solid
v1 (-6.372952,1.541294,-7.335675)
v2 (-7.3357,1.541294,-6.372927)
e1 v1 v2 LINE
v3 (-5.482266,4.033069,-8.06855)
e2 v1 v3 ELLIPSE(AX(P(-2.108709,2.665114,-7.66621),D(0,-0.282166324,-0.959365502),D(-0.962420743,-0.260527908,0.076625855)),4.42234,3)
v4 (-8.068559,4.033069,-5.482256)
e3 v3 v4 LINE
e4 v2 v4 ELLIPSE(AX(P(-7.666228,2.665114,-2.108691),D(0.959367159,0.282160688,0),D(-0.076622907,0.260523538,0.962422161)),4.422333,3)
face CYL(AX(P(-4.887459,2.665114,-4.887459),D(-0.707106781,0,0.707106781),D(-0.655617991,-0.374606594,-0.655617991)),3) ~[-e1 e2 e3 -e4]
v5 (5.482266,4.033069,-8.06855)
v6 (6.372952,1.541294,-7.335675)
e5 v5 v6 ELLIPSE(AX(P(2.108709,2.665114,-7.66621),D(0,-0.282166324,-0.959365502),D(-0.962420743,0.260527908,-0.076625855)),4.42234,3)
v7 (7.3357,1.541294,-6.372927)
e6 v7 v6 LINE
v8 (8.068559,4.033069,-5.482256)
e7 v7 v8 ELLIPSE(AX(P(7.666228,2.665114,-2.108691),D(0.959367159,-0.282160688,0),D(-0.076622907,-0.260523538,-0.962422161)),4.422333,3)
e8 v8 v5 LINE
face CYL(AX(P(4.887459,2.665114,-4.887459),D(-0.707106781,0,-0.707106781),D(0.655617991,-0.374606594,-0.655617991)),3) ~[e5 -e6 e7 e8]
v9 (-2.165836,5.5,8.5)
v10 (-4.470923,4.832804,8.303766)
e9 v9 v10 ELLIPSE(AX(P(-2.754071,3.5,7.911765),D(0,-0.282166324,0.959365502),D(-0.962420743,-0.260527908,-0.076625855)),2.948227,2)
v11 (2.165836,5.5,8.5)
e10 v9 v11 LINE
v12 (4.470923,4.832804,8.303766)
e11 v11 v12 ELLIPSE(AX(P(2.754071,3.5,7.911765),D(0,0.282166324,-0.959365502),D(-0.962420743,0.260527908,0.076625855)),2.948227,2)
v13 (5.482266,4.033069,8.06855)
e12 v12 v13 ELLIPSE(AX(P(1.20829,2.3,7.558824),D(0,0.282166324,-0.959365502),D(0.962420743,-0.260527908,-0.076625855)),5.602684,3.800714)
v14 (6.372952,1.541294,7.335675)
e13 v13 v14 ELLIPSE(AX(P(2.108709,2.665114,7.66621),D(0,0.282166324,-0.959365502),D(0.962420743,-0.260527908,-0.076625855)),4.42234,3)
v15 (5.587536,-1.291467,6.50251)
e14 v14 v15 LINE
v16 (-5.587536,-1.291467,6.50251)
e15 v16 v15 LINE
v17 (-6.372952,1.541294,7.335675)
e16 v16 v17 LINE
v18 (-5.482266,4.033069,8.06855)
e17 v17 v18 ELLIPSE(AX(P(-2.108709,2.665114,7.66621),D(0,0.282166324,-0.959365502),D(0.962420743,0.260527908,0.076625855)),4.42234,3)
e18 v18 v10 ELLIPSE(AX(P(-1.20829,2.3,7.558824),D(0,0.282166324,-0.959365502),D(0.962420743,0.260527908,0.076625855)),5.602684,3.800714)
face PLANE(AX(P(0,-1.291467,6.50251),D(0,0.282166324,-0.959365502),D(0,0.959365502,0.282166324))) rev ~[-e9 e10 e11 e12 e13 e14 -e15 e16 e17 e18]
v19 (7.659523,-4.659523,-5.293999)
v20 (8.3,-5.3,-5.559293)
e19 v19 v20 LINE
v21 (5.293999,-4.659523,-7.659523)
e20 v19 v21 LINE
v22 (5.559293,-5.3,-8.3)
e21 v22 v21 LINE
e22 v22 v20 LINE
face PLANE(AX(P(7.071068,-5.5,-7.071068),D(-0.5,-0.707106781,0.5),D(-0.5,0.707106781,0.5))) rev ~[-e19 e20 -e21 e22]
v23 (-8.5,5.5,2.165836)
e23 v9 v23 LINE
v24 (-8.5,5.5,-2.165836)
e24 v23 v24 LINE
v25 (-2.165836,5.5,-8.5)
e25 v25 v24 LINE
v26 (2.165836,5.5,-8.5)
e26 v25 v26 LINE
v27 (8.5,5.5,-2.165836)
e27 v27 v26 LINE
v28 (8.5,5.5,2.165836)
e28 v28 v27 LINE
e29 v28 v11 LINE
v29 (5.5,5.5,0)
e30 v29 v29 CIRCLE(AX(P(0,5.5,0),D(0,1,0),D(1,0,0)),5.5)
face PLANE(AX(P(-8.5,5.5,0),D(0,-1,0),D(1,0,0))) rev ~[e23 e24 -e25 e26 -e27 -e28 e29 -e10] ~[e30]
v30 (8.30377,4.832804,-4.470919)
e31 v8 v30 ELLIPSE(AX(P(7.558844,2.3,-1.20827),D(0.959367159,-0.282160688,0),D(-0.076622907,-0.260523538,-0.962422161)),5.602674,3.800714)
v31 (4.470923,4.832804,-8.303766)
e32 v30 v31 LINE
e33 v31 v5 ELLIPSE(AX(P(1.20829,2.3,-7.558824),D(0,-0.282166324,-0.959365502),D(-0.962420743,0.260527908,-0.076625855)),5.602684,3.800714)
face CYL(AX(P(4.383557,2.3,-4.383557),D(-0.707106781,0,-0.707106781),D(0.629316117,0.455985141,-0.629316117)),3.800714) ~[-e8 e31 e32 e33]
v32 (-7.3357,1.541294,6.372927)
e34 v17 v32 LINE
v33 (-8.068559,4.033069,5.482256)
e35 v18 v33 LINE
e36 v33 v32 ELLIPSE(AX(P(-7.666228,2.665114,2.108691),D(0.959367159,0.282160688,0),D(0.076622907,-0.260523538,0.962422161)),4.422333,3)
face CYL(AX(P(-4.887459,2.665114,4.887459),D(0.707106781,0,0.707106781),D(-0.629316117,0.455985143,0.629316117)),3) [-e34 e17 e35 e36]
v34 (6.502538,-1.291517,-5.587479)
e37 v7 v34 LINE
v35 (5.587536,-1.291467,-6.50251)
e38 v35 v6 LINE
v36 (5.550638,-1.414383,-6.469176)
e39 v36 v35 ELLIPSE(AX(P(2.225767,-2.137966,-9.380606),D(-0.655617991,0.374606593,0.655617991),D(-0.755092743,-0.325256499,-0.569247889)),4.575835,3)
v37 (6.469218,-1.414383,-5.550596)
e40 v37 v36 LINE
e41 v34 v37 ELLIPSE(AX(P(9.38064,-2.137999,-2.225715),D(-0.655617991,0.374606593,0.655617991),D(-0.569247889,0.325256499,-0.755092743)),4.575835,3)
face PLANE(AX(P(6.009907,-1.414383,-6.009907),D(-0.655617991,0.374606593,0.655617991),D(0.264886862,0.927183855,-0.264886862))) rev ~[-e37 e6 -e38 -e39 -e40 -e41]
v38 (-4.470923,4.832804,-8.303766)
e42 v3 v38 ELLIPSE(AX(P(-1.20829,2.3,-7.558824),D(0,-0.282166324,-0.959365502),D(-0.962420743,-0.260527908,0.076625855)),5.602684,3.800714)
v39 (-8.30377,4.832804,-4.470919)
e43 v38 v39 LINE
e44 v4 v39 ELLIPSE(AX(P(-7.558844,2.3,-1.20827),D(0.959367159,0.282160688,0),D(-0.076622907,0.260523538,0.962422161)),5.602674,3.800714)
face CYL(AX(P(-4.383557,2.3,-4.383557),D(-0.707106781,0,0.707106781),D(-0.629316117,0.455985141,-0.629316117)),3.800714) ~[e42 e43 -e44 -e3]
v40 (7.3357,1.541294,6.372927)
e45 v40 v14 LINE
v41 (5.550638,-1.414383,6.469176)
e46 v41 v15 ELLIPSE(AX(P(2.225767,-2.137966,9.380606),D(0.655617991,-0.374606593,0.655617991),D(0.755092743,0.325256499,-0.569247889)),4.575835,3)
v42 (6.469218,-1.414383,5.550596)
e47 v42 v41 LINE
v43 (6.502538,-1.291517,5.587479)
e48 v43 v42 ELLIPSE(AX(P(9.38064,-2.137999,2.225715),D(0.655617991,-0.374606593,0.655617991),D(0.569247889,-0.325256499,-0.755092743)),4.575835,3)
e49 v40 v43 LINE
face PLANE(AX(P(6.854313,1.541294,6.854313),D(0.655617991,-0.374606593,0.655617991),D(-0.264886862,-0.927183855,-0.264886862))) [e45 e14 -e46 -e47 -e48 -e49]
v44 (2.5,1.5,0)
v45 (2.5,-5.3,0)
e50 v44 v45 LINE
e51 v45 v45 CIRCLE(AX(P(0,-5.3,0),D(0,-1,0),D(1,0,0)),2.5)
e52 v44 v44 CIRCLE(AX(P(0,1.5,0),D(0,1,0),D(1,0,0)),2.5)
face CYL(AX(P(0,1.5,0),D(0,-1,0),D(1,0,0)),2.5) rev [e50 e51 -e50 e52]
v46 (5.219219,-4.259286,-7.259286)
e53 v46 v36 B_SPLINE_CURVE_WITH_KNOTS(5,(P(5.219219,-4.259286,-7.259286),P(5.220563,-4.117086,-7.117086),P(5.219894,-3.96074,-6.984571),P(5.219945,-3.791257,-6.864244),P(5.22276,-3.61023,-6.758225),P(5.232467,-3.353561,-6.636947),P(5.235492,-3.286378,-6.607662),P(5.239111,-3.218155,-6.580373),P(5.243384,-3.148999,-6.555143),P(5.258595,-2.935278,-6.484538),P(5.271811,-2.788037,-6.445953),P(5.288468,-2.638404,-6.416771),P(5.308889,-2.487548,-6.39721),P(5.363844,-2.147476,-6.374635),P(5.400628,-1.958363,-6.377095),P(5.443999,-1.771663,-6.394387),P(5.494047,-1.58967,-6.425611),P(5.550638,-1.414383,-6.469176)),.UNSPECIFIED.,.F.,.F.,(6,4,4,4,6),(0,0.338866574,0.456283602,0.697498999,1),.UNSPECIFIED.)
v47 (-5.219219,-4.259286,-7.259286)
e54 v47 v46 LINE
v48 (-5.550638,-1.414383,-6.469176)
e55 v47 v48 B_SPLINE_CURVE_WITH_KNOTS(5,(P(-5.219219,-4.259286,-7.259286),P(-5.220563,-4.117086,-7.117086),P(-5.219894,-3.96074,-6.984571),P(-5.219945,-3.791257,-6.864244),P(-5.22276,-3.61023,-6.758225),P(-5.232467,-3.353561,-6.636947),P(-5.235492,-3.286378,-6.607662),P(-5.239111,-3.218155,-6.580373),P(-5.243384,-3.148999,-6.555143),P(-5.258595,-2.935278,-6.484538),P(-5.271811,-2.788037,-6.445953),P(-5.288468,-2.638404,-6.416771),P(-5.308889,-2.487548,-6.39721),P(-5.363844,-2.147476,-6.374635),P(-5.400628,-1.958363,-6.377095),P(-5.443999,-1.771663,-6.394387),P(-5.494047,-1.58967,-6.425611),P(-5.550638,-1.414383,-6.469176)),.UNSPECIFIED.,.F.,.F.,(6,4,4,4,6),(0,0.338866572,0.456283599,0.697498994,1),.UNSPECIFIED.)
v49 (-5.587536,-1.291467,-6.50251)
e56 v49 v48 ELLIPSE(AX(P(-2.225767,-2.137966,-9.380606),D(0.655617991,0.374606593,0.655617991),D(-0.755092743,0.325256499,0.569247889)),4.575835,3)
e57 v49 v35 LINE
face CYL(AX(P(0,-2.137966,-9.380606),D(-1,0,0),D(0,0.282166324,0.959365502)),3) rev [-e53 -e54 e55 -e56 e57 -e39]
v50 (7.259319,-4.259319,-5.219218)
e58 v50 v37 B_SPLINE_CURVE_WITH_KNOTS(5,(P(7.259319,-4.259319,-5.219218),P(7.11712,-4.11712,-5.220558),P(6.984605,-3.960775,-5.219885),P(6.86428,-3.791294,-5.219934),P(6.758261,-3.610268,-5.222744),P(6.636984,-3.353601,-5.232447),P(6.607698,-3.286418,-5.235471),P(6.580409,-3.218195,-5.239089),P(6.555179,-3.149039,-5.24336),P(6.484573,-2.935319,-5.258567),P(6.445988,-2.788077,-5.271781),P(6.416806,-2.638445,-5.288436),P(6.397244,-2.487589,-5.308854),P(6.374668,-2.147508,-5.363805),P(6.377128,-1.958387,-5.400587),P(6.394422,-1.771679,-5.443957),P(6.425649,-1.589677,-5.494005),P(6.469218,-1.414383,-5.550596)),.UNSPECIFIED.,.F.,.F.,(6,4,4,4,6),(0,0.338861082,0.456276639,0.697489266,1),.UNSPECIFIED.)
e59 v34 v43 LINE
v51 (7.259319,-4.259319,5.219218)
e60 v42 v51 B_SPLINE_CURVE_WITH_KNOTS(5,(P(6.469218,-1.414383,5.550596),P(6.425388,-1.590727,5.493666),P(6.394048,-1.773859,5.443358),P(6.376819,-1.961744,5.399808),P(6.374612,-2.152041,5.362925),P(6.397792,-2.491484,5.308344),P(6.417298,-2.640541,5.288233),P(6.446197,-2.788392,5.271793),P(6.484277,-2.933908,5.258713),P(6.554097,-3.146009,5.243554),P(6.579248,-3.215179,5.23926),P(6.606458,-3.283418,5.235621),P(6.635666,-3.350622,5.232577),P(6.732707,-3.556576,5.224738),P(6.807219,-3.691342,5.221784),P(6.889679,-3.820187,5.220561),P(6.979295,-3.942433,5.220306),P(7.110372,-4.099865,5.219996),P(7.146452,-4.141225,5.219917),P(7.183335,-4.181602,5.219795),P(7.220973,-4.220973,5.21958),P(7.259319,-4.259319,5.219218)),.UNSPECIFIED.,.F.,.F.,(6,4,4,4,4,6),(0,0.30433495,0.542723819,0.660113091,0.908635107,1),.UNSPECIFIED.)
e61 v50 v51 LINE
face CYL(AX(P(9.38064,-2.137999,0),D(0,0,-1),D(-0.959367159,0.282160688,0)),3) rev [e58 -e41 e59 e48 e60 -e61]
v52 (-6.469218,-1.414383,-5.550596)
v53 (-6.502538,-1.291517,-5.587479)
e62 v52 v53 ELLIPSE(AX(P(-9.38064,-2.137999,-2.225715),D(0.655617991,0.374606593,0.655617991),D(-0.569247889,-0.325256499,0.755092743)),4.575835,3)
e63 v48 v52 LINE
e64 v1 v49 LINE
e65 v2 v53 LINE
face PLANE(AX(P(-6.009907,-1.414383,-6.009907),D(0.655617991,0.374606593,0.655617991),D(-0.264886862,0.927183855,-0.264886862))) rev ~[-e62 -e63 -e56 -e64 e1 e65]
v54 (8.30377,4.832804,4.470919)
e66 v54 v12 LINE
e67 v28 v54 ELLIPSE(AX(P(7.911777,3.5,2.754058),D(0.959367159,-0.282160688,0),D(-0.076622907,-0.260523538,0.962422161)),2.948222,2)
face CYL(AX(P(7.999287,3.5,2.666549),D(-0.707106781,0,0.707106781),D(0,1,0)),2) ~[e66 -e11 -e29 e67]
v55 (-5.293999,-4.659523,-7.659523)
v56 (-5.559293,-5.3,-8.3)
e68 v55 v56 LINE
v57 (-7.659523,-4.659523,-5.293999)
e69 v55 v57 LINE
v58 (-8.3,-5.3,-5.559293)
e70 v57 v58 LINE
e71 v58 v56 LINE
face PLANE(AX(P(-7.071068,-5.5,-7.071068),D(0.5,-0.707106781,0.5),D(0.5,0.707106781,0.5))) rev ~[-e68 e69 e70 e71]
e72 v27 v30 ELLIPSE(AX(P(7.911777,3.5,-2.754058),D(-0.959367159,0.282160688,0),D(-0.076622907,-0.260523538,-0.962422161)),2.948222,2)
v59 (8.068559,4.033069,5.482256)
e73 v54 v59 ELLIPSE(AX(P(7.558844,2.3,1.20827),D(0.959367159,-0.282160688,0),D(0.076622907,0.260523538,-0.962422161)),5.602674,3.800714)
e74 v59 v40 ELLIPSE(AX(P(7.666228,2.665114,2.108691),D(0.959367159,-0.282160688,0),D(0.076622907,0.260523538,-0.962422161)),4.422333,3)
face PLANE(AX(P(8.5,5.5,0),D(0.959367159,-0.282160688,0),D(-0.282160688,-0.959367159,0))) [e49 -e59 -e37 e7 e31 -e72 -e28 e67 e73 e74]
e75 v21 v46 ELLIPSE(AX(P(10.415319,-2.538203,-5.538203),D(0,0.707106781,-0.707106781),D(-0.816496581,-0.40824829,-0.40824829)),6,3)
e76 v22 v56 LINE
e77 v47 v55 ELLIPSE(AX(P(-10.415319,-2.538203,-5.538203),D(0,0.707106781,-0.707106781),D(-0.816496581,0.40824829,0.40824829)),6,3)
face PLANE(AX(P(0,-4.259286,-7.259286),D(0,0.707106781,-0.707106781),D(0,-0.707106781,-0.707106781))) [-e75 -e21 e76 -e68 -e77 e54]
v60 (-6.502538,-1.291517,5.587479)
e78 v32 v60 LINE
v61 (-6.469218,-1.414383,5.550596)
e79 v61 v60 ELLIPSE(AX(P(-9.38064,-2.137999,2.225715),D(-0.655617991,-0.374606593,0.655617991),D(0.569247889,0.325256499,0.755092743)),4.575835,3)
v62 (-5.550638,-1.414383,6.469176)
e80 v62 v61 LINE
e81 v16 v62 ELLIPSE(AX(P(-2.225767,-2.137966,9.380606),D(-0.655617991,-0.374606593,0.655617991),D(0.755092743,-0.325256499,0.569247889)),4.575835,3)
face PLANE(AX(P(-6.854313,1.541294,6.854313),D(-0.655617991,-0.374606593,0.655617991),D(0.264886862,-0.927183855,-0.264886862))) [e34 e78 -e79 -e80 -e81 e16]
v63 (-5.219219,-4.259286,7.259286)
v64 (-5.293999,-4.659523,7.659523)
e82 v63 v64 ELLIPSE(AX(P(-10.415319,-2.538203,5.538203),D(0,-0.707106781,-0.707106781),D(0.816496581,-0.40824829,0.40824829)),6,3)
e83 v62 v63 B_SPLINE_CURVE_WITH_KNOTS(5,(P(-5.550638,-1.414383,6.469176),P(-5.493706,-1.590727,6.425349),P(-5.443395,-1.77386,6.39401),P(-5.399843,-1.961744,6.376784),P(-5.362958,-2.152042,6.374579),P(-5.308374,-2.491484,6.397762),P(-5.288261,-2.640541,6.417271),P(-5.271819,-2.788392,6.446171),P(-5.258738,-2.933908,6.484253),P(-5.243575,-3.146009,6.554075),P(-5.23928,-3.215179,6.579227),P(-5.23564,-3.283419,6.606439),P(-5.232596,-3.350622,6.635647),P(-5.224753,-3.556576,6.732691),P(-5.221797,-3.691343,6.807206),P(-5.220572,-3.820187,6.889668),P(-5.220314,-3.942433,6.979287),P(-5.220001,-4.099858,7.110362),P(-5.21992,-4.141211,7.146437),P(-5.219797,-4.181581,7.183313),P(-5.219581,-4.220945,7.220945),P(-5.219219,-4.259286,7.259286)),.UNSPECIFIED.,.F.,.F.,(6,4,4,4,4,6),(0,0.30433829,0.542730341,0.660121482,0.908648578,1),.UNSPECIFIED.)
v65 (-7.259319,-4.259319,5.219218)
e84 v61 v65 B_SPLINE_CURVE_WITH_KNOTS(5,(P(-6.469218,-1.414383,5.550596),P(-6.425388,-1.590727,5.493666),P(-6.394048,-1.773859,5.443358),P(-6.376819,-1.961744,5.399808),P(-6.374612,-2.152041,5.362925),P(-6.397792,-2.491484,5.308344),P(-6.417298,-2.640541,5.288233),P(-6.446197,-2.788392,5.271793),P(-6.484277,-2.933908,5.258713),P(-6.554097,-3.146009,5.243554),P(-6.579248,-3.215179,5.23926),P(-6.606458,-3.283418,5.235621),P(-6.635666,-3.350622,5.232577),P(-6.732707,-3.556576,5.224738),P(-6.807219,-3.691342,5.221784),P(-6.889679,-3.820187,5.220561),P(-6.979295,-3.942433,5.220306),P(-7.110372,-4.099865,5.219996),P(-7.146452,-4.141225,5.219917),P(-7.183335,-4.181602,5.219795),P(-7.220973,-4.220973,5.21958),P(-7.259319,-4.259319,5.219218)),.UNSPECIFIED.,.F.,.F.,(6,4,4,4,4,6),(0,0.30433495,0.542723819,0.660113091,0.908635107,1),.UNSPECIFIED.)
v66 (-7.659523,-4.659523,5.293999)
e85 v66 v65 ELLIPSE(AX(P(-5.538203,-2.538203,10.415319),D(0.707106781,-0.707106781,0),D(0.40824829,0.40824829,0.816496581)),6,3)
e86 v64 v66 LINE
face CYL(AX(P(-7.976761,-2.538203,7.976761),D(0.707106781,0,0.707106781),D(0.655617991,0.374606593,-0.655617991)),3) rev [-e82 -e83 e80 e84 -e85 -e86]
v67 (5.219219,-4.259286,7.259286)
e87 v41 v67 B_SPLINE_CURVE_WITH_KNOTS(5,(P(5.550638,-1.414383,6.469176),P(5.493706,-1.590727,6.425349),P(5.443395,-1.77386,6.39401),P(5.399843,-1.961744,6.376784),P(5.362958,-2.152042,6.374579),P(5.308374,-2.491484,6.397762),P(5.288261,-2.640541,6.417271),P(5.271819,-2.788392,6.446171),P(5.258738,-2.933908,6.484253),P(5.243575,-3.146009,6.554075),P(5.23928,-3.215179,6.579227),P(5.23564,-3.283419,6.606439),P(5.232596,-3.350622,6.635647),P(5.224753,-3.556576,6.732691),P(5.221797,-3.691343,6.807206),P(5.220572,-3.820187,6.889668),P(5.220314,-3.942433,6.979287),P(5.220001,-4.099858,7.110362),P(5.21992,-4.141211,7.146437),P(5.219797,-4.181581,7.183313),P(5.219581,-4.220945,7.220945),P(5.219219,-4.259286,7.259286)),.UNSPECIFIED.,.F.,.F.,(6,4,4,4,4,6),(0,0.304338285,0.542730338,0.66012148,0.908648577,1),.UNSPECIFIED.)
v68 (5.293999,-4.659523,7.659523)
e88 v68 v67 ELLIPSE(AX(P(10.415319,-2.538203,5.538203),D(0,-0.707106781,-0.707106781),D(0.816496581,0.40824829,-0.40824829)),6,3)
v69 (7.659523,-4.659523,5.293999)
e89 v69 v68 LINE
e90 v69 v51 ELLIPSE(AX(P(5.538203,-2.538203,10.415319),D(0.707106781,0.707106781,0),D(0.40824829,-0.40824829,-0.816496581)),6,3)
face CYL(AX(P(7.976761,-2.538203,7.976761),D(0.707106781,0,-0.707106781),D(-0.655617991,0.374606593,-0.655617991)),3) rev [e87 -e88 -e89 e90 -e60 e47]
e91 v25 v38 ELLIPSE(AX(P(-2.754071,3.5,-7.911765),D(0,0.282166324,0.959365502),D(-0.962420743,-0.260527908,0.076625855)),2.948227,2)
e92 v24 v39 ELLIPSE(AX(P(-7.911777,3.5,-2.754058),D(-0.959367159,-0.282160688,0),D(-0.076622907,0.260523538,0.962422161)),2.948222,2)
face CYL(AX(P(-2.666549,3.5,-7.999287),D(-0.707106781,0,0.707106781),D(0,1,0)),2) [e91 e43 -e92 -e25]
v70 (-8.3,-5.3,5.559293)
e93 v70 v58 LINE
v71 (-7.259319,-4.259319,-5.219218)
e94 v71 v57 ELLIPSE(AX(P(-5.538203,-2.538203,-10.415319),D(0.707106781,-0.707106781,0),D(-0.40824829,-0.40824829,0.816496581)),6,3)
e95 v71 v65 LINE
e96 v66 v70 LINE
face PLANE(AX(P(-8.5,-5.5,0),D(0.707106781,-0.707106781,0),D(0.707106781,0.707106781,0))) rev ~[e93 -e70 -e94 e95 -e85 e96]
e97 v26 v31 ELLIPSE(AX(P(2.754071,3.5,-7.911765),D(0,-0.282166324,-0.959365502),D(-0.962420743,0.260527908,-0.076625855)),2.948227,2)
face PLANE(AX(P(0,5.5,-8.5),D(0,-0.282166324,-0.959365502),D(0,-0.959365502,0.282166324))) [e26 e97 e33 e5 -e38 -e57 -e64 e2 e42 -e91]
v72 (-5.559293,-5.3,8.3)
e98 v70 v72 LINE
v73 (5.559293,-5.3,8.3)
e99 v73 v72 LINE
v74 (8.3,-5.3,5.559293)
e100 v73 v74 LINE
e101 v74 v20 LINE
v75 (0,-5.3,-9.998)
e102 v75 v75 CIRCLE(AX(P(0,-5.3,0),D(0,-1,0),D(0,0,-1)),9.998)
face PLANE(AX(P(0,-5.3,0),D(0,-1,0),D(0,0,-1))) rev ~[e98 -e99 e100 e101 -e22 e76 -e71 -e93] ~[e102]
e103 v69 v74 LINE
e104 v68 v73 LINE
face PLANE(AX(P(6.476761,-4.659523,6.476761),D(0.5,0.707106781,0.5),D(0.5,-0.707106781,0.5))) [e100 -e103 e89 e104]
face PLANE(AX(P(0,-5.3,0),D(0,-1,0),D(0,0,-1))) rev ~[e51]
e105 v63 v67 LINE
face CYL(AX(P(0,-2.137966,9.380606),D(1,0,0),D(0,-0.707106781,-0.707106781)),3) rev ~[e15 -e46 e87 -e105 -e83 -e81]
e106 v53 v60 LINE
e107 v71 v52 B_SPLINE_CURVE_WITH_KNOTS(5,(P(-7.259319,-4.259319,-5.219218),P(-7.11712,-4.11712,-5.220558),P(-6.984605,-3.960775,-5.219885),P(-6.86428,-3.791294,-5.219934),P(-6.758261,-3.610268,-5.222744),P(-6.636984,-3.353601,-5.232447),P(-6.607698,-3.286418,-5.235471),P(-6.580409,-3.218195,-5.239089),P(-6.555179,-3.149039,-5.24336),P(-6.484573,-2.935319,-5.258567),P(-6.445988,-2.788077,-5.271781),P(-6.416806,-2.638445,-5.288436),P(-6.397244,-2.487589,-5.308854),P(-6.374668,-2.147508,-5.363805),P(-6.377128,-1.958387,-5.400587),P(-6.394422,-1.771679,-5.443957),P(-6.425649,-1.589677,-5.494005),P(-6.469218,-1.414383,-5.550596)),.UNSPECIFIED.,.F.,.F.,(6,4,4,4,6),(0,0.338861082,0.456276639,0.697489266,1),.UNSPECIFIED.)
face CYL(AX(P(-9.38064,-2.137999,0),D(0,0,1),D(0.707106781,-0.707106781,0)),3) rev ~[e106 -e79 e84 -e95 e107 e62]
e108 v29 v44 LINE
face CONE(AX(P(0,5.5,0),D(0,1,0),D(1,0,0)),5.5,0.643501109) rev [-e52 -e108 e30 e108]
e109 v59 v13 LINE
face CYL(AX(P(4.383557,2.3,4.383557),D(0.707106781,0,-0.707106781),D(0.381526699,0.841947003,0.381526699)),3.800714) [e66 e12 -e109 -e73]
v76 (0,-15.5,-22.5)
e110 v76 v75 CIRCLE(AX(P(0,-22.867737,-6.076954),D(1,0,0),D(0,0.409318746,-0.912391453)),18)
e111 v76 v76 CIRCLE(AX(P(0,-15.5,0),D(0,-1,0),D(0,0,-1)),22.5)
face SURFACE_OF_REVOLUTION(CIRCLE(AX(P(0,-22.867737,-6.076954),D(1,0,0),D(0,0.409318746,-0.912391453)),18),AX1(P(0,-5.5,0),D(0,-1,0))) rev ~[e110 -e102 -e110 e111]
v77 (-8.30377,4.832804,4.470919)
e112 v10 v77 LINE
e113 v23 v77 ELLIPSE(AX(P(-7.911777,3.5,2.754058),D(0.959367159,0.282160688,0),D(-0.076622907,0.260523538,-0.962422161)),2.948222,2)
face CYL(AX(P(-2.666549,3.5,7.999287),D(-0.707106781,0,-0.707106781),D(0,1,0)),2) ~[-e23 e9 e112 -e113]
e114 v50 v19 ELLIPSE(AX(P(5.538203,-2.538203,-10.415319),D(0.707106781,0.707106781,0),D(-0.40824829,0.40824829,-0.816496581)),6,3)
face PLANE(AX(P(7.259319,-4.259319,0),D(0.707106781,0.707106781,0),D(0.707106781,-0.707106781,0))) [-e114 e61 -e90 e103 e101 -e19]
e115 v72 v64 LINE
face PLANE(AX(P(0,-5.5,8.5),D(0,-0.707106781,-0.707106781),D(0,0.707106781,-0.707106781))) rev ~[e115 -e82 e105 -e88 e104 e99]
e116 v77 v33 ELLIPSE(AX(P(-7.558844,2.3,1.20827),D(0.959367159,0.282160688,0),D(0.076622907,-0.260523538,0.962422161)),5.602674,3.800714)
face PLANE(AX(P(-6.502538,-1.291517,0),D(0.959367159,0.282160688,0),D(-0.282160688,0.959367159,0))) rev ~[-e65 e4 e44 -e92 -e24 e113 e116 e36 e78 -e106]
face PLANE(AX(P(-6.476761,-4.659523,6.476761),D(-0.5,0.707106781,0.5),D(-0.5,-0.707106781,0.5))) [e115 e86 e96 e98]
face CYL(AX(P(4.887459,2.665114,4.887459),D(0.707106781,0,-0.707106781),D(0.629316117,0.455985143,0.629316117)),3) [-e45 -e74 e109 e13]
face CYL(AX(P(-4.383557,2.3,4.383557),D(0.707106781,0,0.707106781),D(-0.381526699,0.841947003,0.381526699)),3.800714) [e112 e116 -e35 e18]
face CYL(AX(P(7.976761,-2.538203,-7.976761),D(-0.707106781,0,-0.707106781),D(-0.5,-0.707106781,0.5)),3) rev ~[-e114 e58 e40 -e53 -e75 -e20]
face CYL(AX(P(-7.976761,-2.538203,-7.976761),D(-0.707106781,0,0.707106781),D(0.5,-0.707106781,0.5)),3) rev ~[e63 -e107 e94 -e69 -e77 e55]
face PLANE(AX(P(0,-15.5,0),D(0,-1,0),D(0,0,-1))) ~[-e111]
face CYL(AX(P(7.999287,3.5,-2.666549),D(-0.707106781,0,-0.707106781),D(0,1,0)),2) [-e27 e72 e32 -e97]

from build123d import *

# Parameters (mm, degrees)
SKETCH4_W           = 17
SKETCH4_H           = 11
BOSS_EXTRUDE2_DEPTH = 8.5
CUT_EXTRUDE1_DEPTH  = 13.5
CUT_EXTRUDE2_DEPTH  = 13.5
CUT_EXTRUDE3_DEPTH  = 13.5
CUT_EXTRUDE4_DEPTH  = 13.5
FILLET1_R           = 2


with BuildPart() as part:
    # Sketch4 → Boss-Extrude2 (new body, symmetric)
    with BuildSketch(Plane.XY):
        Rectangle(SKETCH4_W, SKETCH4_H)
    extrude(amount=BOSS_EXTRUDE2_DEPTH, both=True)

    # Sketch5 → Cut-Extrude1 (cut, symmetric)
    with BuildSketch(Plane(origin=(0, 0, 0), x_dir=(0, 0, -1), z_dir=(1, 0, 0))):
        with BuildLine():
            Line((8.5, 5.5), (6.502509808, -1.291466653))
            ThreePointArc((6.502509808, -1.291466653), (6.473626767, -2.879228009), (7.259285969, -4.259285969))
            Line((7.259285969, -4.259285969), (8.5, -5.5))
            Line((8.5, -5.5), (8.5, 5.5))
        make_face()
        with BuildLine():
            Line((-8.5, -5.5), (-7.259285969, -4.259285969))
            ThreePointArc((-7.259285969, -4.259285969), (-6.473626767, -2.879228009), (-6.502509808, -1.291466653))
            Line((-6.502509808, -1.291466653), (-8.5, 5.5))
            Line((-8.5, 5.5), (-8.5, -5.5))
        make_face()
    extrude(amount=CUT_EXTRUDE1_DEPTH, both=True, mode=Mode.SUBTRACT)

    # Sketch7 → Cut-Extrude2 (cut, symmetric)
    with BuildSketch(Plane.XY):
        with BuildLine():
            Line((8.5, 5.5), (6.502538332, -1.291517059))
            ThreePointArc((6.502538332, -1.291517059), (6.473662442, -2.879270046), (7.259319467, -4.259319467))
            Line((7.259319467, -4.259319467), (8.5, -5.5))
            Line((8.5, -5.5), (8.5, 5.5))
        make_face()
        with BuildLine():
            Line((-8.5, -5.5), (-7.259319467, -4.259319467))
            ThreePointArc((-7.259319467, -4.259319467), (-6.473662442, -2.879270046), (-6.502538332, -1.291517059))
            Line((-6.502538332, -1.291517059), (-8.5, 5.5))
            Line((-8.5, 5.5), (-8.5, -5.5))
        make_face()
    extrude(amount=CUT_EXTRUDE2_DEPTH, both=True, mode=Mode.SUBTRACT)

    # Sketch11 → Cut-Extrude3 (cut, symmetric)
    with BuildSketch(Plane(origin=(0, 0, 0), x_dir=(0.707106781, 0, -0.707106781), z_dir=(0.707106781, 0, 0.707106781))):
        with BuildLine():
            Line((10, -5.5), (9.159523089, -4.659523089))
            ThreePointArc((9.159523089, -4.659523089), (8.341069319, -3.136306549), (8.499291869, -1.414382965))
            Line((8.499291869, -1.414382965), (9.693462893, 1.541294037))
            ThreePointArc((9.693462893, 1.541294037), (9.908907559, 2.799328578), (9.581873492, 4.033069244))
            ThreePointArc((9.581873492, 4.033069244), (9.013209006, 4.854851227), (8.25, 5.5))
            Line((8.25, 5.5), (14, 5.5))
            Line((14, 5.5), (14, -5.5))
            Line((14, -5.5), (10, -5.5))
        make_face()
        with BuildLine():
            Line((-14, 5.5), (-8.25, 5.5))
            ThreePointArc((-8.25, 5.5), (-9.013209006, 4.854851227), (-9.581873492, 4.033069244))
            ThreePointArc((-9.581873492, 4.033069244), (-9.908907559, 2.799328578), (-9.693462893, 1.541294037))
            Line((-9.693462893, 1.541294037), (-8.499291869, -1.414382965))
            ThreePointArc((-8.499291869, -1.414382965), (-8.341069319, -3.136306549), (-9.159523089, -4.659523089))
            Line((-9.159523089, -4.659523089), (-10, -5.5))
            Line((-10, -5.5), (-14, -5.5))
            Line((-14, -5.5), (-14, 5.5))
        make_face()
    extrude(amount=CUT_EXTRUDE3_DEPTH, both=True, mode=Mode.SUBTRACT)

    # Sketch12 → Cut-Extrude4 (cut, symmetric)
    with BuildSketch(Plane(origin=(0, 0, 0), x_dir=(-0.707106781, 0, -0.707106781), z_dir=(0.707106781, 0, -0.707106781))):
        with BuildLine():
            Line((10, -5.5), (9.159523089, -4.659523089))
            ThreePointArc((9.159523089, -4.659523089), (8.341069319, -3.136306549), (8.499291869, -1.414382965))
            Line((8.499291869, -1.414382965), (9.693462893, 1.541294037))
            ThreePointArc((9.693462893, 1.541294037), (9.908907559, 2.799328578), (9.581873492, 4.033069244))
            ThreePointArc((9.581873492, 4.033069244), (9.013209006, 4.854851227), (8.25, 5.5))
            Line((8.25, 5.5), (14, 5.5))
            Line((14, 5.5), (14, -5.5))
            Line((14, -5.5), (10, -5.5))
        make_face()
        with BuildLine():
            Line((-14, 5.5), (-8.25, 5.5))
            ThreePointArc((-8.25, 5.5), (-9.013209006, 4.854851227), (-9.581873492, 4.033069244))
            ThreePointArc((-9.581873492, 4.033069244), (-9.908907559, 2.799328578), (-9.693462893, 1.541294037))
            Line((-9.693462893, 1.541294037), (-8.499291869, -1.414382965))
            ThreePointArc((-8.499291869, -1.414382965), (-8.341069319, -3.136306549), (-9.159523089, -4.659523089))
            Line((-9.159523089, -4.659523089), (-10, -5.5))
            Line((-10, -5.5), (-14, -5.5))
            Line((-14, -5.5), (-14, 5.5))
        make_face()
    extrude(amount=CUT_EXTRUDE4_DEPTH, both=True, mode=Mode.SUBTRACT)

    # Sketch14 → Cut-Revolve1 (revolve, cut)
    with BuildSketch(Plane.XY):
        Polygon((0, 5.5), (5.5, 5.5), (2.5, 1.5), (2.5, -5.5), (0, -5.5), align=None)
    revolve(axis=Axis((0, -5.5, 0), (0, 1, 0)), mode=Mode.SUBTRACT)

    # Fillet1
    fillet1_edges = [part.edges().sort_by_distance(p)[0] for p in [
        (5.833630945, 5.5, -5.833630945),
        (-5.833630945, 5.5, -5.833630945),
        (-5.833630945, 5.5, 5.833630945),
        (5.833630945, 5.5, 5.833630945),
    ]]
    fillet(fillet1_edges, radius=FILLET1_R)

    # Sketch15 → Revolve1 (revolve)
    with BuildSketch(Plane(origin=(0, 0, 0), x_dir=(0, 0, -1), z_dir=(1, 0, 0))):
        with BuildLine():
            Line((0, -15.5), (22.5, -15.5))
            ThreePointArc((22.5, -15.5), (17.455904629, -8.920713416), (9.9979998, -5.3))
            Line((9.9979998, -5.3), (0, -5.3))
            Line((0, -5.3), (0, -5.5))
            Line((0, -5.5), (0, -15.5))
        make_face()
    revolve(axis=Axis((0, -5.5, 0), (0, -1, 0)))


solid = part.part
